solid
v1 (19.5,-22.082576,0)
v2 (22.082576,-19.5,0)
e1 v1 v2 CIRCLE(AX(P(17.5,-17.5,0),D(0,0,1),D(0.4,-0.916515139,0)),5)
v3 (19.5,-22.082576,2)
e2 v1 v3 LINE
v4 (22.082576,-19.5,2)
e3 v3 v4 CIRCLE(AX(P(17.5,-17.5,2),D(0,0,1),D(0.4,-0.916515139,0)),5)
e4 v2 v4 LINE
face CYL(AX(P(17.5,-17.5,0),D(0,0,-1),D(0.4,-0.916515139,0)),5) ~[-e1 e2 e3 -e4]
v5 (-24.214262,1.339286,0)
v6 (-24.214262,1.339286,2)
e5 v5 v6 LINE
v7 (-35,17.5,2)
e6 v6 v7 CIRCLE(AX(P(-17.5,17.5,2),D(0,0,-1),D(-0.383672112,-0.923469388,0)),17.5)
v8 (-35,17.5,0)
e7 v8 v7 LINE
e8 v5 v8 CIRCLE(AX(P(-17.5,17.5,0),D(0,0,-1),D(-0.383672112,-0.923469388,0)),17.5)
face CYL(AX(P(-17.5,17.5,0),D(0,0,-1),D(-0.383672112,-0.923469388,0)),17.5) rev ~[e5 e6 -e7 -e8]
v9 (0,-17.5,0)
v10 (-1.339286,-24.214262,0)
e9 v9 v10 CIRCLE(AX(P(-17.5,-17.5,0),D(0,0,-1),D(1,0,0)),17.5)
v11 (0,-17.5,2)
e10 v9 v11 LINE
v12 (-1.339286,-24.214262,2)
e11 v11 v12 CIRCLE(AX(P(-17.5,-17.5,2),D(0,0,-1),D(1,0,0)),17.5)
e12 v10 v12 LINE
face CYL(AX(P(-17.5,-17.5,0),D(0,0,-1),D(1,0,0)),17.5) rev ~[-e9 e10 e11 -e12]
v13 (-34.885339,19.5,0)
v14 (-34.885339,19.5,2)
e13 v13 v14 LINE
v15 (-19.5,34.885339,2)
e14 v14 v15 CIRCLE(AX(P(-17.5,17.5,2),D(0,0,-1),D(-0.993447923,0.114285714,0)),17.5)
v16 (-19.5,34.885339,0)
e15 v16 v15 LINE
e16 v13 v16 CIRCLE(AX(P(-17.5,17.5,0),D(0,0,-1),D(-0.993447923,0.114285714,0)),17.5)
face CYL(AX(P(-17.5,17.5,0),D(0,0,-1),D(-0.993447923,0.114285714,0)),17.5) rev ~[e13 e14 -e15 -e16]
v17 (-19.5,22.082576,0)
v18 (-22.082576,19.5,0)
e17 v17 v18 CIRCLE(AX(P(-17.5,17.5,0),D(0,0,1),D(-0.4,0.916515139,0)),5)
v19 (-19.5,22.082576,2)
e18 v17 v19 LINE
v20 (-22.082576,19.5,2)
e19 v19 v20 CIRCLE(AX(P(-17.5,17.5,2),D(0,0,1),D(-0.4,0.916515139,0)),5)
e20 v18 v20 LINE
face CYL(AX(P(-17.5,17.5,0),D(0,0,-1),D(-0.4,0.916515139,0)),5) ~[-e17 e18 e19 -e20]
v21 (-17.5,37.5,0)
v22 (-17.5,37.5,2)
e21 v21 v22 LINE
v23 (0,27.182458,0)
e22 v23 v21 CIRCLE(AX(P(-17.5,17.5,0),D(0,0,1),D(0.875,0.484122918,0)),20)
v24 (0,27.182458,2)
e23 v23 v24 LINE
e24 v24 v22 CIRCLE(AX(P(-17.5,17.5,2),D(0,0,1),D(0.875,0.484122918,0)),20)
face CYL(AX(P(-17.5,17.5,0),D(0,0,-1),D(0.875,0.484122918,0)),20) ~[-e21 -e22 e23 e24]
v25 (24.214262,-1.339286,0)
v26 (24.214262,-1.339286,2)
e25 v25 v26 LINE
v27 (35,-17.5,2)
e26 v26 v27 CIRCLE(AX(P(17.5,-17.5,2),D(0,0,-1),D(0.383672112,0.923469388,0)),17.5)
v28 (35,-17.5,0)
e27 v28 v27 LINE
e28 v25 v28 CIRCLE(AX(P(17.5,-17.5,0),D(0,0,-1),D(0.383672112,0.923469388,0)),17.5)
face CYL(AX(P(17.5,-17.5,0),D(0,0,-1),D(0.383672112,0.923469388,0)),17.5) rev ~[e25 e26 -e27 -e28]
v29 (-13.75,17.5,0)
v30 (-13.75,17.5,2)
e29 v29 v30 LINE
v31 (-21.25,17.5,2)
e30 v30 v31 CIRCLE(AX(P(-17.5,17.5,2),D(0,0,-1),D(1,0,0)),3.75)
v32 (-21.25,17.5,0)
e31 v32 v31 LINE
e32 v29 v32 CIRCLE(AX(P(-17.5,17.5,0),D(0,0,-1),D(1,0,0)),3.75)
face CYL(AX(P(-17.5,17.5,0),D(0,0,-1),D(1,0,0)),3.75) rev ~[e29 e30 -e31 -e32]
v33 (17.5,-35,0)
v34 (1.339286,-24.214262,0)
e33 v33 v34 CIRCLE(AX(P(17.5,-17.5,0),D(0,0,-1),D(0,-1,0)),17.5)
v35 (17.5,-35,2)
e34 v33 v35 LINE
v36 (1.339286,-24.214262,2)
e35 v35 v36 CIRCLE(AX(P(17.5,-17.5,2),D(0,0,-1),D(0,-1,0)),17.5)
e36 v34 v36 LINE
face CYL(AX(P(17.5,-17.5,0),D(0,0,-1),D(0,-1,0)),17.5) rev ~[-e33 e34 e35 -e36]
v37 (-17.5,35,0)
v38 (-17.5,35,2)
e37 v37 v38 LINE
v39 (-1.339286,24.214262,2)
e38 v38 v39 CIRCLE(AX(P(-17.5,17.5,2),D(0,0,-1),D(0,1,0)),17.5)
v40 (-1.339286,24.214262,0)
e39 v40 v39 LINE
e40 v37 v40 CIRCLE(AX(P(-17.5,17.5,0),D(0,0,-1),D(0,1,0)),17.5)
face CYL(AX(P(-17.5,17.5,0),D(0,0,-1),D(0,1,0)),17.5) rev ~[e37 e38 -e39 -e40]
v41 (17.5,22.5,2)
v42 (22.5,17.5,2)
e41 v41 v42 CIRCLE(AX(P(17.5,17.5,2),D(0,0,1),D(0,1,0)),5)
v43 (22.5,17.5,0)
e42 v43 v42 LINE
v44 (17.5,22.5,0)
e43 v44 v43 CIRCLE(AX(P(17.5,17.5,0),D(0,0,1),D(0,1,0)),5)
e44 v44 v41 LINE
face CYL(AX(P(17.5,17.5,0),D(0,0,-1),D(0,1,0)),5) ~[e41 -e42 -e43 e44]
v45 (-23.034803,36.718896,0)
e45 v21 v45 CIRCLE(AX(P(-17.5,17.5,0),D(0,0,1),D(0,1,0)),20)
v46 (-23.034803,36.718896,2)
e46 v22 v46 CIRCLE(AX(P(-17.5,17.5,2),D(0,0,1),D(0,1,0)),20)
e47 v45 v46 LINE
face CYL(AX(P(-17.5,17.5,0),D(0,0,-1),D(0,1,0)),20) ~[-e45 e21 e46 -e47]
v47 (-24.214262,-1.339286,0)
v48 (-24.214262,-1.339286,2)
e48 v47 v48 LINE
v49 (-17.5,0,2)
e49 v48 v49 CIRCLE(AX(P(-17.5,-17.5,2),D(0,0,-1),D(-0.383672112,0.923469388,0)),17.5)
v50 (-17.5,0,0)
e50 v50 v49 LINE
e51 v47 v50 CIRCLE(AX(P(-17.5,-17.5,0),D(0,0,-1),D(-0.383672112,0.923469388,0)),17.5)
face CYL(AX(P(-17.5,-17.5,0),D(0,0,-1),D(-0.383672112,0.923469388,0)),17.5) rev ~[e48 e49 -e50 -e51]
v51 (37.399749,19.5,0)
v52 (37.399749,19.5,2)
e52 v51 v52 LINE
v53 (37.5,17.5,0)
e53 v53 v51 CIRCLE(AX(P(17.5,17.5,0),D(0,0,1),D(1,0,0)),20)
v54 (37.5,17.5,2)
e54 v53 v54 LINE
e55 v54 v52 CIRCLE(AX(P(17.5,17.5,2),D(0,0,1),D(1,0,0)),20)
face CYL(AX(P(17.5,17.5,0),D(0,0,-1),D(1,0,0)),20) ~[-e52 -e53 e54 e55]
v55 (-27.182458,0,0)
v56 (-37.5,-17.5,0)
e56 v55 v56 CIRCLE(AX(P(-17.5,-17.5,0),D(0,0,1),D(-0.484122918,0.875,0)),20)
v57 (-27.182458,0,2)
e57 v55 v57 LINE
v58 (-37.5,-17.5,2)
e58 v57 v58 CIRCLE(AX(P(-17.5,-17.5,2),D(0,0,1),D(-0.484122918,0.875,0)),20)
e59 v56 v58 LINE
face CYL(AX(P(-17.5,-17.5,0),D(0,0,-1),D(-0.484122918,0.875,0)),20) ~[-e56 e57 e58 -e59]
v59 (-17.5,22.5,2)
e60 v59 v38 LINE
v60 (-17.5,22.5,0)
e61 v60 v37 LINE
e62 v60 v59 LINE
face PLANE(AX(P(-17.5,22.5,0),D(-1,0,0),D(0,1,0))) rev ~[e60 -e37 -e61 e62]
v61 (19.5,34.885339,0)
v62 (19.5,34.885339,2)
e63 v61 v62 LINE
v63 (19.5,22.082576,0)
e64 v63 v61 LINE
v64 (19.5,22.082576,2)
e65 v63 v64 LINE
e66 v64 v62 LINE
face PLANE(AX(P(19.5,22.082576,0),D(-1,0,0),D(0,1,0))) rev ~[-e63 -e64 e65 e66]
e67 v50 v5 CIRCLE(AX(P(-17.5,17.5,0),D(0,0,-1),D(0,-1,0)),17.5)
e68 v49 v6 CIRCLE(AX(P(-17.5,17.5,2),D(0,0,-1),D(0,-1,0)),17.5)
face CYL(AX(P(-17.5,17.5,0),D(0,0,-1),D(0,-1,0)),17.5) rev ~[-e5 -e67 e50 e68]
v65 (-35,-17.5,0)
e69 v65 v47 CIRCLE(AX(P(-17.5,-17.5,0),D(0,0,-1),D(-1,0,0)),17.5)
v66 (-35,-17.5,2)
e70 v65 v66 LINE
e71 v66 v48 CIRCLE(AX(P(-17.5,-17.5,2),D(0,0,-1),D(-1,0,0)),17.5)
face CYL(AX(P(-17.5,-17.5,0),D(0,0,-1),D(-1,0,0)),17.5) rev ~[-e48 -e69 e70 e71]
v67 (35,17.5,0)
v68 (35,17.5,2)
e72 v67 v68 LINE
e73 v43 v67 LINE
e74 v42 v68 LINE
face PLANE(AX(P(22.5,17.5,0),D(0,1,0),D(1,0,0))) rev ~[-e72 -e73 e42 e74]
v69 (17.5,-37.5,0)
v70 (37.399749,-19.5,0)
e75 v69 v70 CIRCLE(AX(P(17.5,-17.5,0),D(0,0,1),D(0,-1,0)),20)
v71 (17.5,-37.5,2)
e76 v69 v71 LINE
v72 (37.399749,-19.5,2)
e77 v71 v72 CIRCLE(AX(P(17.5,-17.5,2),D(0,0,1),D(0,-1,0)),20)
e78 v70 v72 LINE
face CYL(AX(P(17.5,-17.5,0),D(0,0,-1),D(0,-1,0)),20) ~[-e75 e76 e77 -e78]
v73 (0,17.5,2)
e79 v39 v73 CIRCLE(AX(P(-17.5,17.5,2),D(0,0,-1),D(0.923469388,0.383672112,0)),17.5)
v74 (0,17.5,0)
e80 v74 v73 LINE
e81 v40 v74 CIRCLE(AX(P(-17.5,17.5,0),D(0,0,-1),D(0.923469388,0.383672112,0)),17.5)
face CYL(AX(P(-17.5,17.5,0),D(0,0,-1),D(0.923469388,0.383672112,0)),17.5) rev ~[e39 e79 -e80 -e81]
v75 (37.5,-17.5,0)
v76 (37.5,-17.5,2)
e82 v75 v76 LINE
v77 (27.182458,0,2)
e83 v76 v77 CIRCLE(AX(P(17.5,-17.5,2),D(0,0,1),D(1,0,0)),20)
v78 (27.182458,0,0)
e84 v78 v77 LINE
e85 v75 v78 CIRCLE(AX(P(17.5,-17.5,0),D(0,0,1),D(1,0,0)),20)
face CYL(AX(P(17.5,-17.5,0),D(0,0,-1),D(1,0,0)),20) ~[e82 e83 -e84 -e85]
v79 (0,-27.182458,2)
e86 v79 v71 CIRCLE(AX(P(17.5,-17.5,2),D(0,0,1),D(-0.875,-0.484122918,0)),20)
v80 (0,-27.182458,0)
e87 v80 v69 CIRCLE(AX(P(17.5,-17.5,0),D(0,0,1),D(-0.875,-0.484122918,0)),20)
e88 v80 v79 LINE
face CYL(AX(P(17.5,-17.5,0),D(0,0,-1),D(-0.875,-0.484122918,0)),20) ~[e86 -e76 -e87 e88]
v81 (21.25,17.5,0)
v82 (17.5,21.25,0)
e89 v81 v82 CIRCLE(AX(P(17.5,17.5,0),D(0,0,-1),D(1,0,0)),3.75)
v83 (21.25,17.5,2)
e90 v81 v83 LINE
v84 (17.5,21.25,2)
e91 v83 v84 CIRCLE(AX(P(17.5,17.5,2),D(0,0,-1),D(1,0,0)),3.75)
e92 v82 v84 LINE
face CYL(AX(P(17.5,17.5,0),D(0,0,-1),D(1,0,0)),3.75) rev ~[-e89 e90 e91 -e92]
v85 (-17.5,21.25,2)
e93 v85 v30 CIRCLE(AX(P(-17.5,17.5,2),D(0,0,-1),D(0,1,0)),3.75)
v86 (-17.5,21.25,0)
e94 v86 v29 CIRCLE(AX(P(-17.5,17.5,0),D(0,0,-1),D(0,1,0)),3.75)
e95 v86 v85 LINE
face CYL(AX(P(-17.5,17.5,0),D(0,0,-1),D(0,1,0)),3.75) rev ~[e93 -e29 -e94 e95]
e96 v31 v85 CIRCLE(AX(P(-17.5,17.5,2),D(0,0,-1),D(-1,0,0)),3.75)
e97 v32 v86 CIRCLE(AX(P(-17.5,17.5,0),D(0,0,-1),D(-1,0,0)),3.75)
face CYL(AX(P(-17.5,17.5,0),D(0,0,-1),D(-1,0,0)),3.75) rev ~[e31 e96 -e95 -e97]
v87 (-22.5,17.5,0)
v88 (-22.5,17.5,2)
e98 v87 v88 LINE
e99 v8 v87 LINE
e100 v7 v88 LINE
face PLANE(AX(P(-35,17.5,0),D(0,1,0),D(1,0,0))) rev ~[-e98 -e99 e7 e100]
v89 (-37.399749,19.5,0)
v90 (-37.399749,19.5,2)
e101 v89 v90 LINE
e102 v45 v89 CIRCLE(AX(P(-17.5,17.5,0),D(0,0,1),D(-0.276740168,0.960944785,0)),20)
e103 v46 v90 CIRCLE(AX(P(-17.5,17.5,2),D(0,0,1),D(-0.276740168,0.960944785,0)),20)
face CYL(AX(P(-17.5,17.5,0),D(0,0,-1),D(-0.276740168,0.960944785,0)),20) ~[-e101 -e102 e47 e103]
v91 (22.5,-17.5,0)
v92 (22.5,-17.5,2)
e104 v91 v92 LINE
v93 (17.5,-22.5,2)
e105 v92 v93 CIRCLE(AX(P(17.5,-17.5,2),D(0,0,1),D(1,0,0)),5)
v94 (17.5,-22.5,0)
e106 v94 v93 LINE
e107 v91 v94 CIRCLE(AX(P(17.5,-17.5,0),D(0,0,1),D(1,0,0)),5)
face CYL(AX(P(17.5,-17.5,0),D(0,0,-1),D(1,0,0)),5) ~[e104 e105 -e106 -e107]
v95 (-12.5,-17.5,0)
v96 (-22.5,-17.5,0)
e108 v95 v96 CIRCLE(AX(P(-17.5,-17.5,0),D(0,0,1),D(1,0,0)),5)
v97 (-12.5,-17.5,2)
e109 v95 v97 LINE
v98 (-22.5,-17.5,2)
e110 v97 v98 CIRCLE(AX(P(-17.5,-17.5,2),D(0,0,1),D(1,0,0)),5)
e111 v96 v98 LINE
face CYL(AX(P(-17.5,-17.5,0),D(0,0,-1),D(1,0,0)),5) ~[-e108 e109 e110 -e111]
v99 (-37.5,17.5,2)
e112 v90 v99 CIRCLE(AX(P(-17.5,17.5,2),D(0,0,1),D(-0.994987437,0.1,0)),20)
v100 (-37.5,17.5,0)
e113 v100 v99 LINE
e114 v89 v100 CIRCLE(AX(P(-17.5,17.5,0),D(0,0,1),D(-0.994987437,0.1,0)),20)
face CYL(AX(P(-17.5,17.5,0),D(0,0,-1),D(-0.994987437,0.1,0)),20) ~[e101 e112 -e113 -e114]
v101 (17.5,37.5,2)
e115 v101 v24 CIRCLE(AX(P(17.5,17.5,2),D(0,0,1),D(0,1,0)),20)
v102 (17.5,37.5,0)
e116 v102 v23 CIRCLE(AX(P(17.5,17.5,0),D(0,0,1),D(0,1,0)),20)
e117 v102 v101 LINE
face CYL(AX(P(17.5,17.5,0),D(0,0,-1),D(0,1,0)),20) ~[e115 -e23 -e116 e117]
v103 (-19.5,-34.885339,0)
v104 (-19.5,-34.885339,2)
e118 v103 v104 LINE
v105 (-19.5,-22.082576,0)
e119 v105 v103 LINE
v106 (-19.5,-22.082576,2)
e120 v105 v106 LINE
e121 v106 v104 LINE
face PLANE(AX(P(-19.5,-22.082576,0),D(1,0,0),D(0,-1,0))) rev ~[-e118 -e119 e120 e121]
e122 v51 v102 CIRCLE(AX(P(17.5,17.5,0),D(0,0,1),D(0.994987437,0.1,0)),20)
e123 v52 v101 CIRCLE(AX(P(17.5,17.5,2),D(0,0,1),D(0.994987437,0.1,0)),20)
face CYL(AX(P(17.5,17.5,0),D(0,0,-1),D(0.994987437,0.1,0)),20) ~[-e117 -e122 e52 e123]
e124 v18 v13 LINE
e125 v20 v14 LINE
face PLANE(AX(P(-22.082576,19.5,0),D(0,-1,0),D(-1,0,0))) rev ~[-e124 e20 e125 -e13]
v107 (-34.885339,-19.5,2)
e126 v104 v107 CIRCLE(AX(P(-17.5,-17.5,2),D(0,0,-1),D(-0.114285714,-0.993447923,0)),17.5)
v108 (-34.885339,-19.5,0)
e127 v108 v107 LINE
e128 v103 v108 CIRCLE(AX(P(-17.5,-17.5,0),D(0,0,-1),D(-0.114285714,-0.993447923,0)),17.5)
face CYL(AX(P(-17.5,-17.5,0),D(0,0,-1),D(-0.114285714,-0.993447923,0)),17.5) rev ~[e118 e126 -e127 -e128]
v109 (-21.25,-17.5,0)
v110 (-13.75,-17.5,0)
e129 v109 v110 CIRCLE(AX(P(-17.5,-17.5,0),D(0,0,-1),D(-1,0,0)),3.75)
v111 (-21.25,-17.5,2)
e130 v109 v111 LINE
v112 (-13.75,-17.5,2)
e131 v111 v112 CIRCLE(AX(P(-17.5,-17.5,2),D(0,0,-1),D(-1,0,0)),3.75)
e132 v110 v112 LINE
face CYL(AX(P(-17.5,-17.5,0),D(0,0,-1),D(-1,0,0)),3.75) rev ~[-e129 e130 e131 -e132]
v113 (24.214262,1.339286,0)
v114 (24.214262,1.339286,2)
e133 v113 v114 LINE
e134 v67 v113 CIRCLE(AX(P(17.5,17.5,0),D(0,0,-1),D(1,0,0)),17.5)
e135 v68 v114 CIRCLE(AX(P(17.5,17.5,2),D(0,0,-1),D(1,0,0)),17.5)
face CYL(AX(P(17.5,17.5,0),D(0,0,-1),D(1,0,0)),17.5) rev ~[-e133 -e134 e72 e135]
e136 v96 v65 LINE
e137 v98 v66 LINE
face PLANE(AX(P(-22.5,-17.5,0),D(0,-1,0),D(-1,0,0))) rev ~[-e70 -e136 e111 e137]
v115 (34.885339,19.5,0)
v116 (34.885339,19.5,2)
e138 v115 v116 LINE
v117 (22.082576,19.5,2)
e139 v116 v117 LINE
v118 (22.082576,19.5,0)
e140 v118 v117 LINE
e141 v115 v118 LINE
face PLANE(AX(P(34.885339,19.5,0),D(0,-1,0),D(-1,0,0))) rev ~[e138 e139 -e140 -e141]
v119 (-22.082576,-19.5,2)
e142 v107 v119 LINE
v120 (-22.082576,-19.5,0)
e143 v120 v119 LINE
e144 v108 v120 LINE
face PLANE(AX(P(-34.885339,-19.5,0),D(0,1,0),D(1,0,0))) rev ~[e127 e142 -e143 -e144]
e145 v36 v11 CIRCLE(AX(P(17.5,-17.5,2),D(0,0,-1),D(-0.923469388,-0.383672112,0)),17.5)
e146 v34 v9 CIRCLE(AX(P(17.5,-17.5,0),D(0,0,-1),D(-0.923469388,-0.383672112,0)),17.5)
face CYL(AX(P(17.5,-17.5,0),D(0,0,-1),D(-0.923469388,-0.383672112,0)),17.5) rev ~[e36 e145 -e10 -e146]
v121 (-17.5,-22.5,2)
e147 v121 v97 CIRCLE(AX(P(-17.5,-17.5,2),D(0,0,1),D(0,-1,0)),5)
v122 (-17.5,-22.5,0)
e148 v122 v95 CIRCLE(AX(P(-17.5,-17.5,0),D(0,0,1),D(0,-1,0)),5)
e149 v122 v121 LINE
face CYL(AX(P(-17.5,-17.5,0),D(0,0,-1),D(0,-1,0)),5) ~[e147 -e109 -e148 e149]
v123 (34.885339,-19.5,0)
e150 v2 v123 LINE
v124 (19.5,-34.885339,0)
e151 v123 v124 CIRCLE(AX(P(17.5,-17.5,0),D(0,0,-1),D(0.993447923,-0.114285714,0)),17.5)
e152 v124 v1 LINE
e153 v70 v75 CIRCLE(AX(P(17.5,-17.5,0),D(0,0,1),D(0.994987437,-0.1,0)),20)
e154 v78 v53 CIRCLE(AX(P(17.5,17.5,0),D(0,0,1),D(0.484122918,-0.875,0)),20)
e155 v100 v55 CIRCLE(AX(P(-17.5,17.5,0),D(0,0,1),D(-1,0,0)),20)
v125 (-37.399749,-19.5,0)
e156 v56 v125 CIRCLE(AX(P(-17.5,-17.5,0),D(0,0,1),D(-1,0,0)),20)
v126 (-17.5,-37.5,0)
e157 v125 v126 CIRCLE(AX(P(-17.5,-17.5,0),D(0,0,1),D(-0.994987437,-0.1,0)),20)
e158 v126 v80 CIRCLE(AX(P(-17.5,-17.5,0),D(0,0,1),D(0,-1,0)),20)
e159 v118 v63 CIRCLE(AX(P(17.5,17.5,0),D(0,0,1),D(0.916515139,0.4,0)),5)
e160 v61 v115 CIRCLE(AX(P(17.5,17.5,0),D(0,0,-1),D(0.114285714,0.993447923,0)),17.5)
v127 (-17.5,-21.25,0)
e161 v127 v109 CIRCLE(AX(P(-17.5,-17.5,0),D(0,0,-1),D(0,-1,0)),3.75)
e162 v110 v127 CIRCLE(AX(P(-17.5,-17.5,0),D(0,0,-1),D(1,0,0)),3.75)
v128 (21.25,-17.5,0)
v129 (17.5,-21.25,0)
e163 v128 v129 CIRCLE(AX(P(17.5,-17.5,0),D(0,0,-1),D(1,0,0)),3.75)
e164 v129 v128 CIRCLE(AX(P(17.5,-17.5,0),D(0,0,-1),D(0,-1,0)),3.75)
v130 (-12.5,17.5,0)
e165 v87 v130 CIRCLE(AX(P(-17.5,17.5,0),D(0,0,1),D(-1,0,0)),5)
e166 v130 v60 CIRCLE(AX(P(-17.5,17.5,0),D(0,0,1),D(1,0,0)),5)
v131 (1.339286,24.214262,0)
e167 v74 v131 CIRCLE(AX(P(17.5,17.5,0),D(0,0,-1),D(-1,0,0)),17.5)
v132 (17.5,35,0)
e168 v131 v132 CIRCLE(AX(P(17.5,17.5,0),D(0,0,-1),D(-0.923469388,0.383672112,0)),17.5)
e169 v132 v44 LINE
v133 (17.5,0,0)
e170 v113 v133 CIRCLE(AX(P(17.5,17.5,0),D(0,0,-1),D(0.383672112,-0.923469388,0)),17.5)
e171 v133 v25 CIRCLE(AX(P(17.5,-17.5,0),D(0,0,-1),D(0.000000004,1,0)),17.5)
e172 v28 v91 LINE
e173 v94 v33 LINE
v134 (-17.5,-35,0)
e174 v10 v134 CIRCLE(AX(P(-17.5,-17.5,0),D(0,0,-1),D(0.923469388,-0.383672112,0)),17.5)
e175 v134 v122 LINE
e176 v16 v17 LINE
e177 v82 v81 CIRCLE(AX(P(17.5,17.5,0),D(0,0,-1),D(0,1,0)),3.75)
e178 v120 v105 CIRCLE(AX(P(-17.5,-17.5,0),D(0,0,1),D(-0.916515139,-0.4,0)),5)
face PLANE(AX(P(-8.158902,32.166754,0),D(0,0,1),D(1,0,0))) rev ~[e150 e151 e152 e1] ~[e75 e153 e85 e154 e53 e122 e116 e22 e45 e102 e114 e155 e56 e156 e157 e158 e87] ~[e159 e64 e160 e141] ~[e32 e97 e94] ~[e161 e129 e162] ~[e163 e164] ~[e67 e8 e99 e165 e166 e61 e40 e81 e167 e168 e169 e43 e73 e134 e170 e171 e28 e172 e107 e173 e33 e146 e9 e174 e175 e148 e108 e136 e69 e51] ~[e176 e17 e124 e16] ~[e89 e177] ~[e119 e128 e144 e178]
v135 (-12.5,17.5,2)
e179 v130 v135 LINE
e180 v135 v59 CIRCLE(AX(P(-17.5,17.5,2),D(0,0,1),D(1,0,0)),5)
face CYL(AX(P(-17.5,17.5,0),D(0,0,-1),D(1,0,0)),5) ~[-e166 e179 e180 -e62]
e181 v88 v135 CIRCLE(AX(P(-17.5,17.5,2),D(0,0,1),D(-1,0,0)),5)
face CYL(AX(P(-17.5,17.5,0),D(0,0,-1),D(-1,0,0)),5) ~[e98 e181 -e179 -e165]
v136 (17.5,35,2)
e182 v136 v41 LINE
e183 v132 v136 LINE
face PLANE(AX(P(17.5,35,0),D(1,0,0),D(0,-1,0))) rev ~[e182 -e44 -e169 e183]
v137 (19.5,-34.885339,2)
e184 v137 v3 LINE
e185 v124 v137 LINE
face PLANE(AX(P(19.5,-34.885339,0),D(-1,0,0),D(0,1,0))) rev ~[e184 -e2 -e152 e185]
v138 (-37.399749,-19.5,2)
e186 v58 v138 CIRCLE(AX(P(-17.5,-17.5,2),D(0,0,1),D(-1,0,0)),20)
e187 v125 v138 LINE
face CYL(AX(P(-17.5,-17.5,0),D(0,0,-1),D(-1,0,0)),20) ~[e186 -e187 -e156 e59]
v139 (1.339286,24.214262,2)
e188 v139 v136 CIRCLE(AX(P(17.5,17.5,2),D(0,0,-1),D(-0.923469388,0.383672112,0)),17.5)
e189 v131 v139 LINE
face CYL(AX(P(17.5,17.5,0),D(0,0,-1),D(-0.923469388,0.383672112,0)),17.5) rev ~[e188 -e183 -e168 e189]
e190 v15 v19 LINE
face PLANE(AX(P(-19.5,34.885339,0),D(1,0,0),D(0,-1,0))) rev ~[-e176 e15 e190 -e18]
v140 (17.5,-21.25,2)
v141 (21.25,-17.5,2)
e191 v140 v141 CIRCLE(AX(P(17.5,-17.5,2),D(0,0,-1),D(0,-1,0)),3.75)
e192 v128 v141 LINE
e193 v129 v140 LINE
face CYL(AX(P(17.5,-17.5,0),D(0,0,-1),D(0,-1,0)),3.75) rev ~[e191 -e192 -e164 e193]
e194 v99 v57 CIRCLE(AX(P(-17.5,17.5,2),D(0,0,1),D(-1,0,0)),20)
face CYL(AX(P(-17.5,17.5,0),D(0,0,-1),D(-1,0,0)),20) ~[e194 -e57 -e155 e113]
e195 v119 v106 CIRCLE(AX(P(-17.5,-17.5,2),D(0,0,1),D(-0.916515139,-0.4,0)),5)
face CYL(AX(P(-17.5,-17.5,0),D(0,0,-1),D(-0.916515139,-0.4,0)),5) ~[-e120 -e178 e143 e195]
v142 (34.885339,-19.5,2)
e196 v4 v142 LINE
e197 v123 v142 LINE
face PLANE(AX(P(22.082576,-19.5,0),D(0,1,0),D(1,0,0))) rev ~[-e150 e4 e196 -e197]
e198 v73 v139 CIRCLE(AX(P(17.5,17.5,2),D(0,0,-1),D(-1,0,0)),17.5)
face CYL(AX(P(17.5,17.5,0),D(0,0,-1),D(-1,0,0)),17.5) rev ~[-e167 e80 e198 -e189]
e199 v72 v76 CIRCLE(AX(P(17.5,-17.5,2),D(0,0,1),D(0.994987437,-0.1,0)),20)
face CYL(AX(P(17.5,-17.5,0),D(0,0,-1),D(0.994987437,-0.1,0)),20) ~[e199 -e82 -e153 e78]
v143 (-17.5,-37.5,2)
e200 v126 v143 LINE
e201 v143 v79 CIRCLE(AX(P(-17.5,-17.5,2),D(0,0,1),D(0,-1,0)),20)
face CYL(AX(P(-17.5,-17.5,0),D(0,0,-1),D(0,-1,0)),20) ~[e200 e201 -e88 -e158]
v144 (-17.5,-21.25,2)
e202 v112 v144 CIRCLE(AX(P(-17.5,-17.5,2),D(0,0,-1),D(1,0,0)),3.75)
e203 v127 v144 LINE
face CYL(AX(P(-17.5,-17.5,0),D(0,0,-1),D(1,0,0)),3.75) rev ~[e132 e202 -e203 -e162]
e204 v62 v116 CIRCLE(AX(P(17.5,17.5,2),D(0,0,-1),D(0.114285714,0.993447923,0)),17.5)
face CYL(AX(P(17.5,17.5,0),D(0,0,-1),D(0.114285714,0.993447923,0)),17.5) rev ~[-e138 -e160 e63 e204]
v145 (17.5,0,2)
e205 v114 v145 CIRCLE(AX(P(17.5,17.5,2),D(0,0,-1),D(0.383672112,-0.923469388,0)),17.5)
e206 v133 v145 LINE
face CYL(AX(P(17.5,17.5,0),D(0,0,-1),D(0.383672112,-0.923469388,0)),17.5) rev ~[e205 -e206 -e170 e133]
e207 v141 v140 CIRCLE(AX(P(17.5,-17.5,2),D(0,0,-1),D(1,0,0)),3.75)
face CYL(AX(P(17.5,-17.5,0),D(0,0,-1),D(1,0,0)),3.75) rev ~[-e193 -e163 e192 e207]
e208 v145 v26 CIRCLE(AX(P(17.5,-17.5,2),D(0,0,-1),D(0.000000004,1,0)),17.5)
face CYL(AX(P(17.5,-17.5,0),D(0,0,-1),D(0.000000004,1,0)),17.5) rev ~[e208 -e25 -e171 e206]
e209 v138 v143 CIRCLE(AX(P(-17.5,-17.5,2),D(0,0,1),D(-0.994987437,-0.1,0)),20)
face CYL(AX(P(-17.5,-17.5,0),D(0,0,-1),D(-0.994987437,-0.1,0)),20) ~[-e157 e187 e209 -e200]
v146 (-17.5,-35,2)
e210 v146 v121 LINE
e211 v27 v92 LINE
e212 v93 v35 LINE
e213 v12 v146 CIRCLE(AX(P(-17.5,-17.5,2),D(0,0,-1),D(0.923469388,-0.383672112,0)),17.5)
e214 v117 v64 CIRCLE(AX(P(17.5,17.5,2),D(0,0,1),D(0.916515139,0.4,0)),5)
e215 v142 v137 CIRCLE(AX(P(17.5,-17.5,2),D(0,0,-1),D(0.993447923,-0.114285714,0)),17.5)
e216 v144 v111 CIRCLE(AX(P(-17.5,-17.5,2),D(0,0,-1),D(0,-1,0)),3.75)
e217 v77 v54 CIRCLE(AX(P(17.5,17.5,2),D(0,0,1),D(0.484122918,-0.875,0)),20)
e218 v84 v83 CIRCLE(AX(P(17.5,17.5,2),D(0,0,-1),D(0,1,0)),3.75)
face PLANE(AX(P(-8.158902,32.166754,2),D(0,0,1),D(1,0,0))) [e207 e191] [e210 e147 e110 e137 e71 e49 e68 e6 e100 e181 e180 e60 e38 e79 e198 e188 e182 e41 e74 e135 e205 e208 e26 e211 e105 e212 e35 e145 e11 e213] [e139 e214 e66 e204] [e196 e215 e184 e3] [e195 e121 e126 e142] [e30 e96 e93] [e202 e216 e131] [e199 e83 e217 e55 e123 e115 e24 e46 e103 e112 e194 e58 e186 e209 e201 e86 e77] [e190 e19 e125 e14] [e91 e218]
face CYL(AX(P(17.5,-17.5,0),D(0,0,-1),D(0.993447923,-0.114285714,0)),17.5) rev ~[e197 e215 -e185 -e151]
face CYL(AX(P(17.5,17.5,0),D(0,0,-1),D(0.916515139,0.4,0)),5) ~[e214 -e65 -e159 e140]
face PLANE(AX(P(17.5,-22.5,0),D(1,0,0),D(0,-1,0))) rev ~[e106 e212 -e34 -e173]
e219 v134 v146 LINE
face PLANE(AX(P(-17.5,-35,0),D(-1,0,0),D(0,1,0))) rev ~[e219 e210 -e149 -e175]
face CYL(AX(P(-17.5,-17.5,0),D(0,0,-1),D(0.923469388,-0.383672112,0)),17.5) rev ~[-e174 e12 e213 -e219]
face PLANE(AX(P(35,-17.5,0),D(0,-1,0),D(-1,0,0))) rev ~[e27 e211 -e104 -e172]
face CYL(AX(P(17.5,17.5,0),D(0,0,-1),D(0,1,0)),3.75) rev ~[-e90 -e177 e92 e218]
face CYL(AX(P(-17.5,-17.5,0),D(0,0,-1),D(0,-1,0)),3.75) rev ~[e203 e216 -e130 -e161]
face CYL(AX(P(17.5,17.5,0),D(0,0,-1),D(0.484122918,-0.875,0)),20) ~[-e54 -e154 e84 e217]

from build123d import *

# Parameters (mm, degrees)
F1_DEPTH = 2


with BuildPart() as f1:
    # F0 (on Top) → F1 (new body)
    with BuildSketch(Plane.XY):
        with BuildLine():
            ThreePointArc((-17.5, 35), (-7.785309692, 32.0559194907), (-1.3392857143, 24.214261968))
            ThreePointArc((-1.3392857143, 24.214261968), (-0.7301527426, 25.7256629508), (0, 27.1824583655))
            ThreePointArc((0, 27.1824583655), (-7.3424699683, 34.7285978436), (-17.5, 37.5))
            Line((-17.5, 37.5), (-17.5, 35))
        make_face()
        with BuildLine():
            ThreePointArc((-35, -17.5), (-32.0559194907, -7.785309692), (-24.214261968, -1.3392857143))
            ThreePointArc((-24.214261968, -1.3392857143), (-25.7256629508, -0.7301527426), (-27.1824583655, 0))
            ThreePointArc((-27.1824583655, 0), (-34.7285978436, -7.3424699683), (-37.5, -17.5))
            Line((-37.5, -17.5), (-35, -17.5))
        make_face()
        with BuildLine():
            ThreePointArc((27.1824583655, 0), (25.7256629508, -0.7301527426), (24.214261968, -1.3392857143))
            ThreePointArc((24.214261968, -1.3392857143), (32.0559194907, -7.785309692), (35, -17.5))
            Line((35, -17.5), (37.5, -17.5))
            ThreePointArc((37.5, -17.5), (34.7285978436, -7.3424699683), (27.1824583655, 0))
        make_face()
        with BuildLine():
            ThreePointArc((0, 27.1824583655), (0.7301527426, 25.7256629508), (1.3392857143, 24.214261968))
            ThreePointArc((1.3392857143, 24.214261968), (7.785309692, 32.0559194907), (17.5, 35))
            Line((17.5, 35), (17.5, 37.5))
            ThreePointArc((17.5, 37.5), (7.3424699683, 34.7285978436), (0, 27.1824583655))
        make_face()
        with BuildLine():
            ThreePointArc((24.214261968, 1.3392857143), (20.9232660165, 0.3380872342), (17.5000000654, 0))
            ThreePointArc((17.5000000654, 0), (20.9232660165, -0.3380872342), (24.214261968, -1.3392857143))
            ThreePointArc((24.214261968, -1.3392857143), (25.7256629508, -0.7301527426), (27.1824583655, 0))
            ThreePointArc((27.1824583655, 0), (25.7256629508, 0.7301527426), (24.214261968, 1.3392857143))
        make_face()
        with BuildLine():
            ThreePointArc((1.3392857143, -24.214261968), (0.3380872278, -20.9232659844), (0, -17.5))
            ThreePointArc((0, -17.5), (-0.3380872278, -20.9232659844), (-1.3392857143, -24.214261968))
            ThreePointArc((-1.3392857143, -24.214261968), (-0.7301527426, -25.7256629508), (0, -27.1824583655))
            ThreePointArc((0, -27.1824583655), (0.7301527426, -25.7256629508), (1.3392857143, -24.214261968))
        make_face()
        with BuildLine():
            ThreePointArc((-24.214261968, -1.3392857143), (-20.9232659844, -0.3380872278), (-17.5, 0))
            ThreePointArc((-17.5, 0), (-20.9232659844, 0.3380872278), (-24.214261968, 1.3392857143))
            ThreePointArc((-24.214261968, 1.3392857143), (-25.7256629508, 0.7301527426), (-27.1824583655, 0))
            ThreePointArc((-27.1824583655, 0), (-25.7256629508, -0.7301527426), (-24.214261968, -1.3392857143))
        make_face()
        with BuildLine():
            ThreePointArc((-1.3392857143, 24.214261968), (-0.3380872278, 20.9232659844), (0, 17.5))
            ThreePointArc((0, 17.5), (0.3380872278, 20.9232659844), (1.3392857143, 24.214261968))
            ThreePointArc((1.3392857143, 24.214261968), (0.7301527426, 25.7256629508), (0, 27.1824583655))
            ThreePointArc((0, 27.1824583655), (-0.7301527426, 25.7256629508), (-1.3392857143, 24.214261968))
        make_face()
        with BuildLine():
            ThreePointArc((-27.1824583655, 0), (-25.7256629508, 0.7301527426), (-24.214261968, 1.3392857143))
            ThreePointArc((-24.214261968, 1.3392857143), (-32.0559194907, 7.785309692), (-35, 17.5))
            Line((-35, 17.5), (-37.5, 17.5))
            ThreePointArc((-37.5, 17.5), (-34.7285978436, 7.3424699683), (-27.1824583655, 0))
        make_face()
        with BuildLine():
            ThreePointArc((-34.8853386507, 19.5), (-29.8743686708, 29.8743686708), (-19.5, 34.8853386507))
            Line((-19.5, 34.8853386507), (-19.5, 36.718895694))
            Line((-19.5, 36.718895694), (-23.0348033662, 36.718895694))
            ThreePointArc((-23.0348033662, 36.718895694), (-32.8574640637, 30.3120372124), (-37.3997487421, 19.5))
            Line((-37.3997487421, 19.5), (-34.8853386507, 19.5))
        make_face()
        with BuildLine():
            ThreePointArc((-35, 17.5), (-34.971311147, 18.501642055), (-34.8853386507, 19.5))
            Line((-34.8853386507, 19.5), (-37.3997487421, 19.5))
            ThreePointArc((-37.3997487421, 19.5), (-37.4749214622, 18.5012555012), (-37.5, 17.5))
            Line((-37.5, 17.5), (-35, 17.5))
        make_face()
        with BuildLine():
            Line((-22.082575695, 19.5), (-34.8853386507, 19.5))
            ThreePointArc((-34.8853386507, 19.5), (-34.971311147, 18.501642055), (-35, 17.5))
            Line((-35, 17.5), (-22.5, 17.5))
            ThreePointArc((-22.5, 17.5), (-22.3945315647, 18.5215482184), (-22.082575695, 19.5))
        make_face()
        with BuildLine():
            Line((-17.5, 21.25), (-17.5, 22.5))
            ThreePointArc((-17.5, 22.5), (-18.5215482184, 22.3945315647), (-19.5, 22.082575695))
            ThreePointArc((-19.5, 22.082575695), (-21.0355339059, 21.0355339059), (-22.082575695, 19.5))
            ThreePointArc((-22.082575695, 19.5), (-22.3945315647, 18.5215482184), (-22.5, 17.5))
            Line((-22.5, 17.5), (-21.25, 17.5))
            ThreePointArc((-21.25, 17.5), (-20.1516504294, 20.1516504294), (-17.5, 21.25))
        make_face()
        with BuildLine():
            Line((-17.5, 22.5), (-17.5, 35))
            ThreePointArc((-17.5, 35), (-18.501642055, 34.971311147), (-19.5, 34.8853386507))
            Line((-19.5, 34.8853386507), (-19.5, 22.082575695))
            ThreePointArc((-19.5, 22.082575695), (-18.5215482184, 22.3945315647), (-17.5, 22.5))
        make_face()
        with BuildLine():
            ThreePointArc((-12.5, 17.5), (-13.9644660941, 21.0355339059), (-17.5, 22.5))
            Line((-17.5, 22.5), (-17.5, 21.25))
            ThreePointArc((-17.5, 21.25), (-14.8483495706, 20.1516504294), (-13.75, 17.5))
            ThreePointArc((-13.75, 17.5), (-17.5, 13.75), (-21.25, 17.5))
            Line((-21.25, 17.5), (-22.5, 17.5))
            ThreePointArc((-22.5, 17.5), (-17.5, 12.5), (-12.5, 17.5))
        make_face()
        with BuildLine():
            ThreePointArc((-19.5, 34.8853386507), (-18.501642055, 34.971311147), (-17.5, 35))
            Line((-17.5, 35), (-17.5, 37.5))
            ThreePointArc((-17.5, 37.5), (-20.2948243343, 37.3037611817), (-23.0348033662, 36.718895694))
            Line((-23.0348033662, 36.718895694), (-19.5, 36.718895694))
            Line((-19.5, 36.718895694), (-19.5, 34.8853386507))
        make_face()
        with BuildLine():
            ThreePointArc((-34.8853386507, -19.5), (-34.971311147, -18.501642055), (-35, -17.5))
            Line((-35, -17.5), (-37.5, -17.5))
            ThreePointArc((-37.5, -17.5), (-37.4749214622, -18.5012555012), (-37.3997487421, -19.5))
            Line((-37.3997487421, -19.5), (-34.8853386507, -19.5))
        make_face()
        with BuildLine():
            Line((-22.5, -17.5), (-35, -17.5))
            ThreePointArc((-35, -17.5), (-34.971311147, -18.501642055), (-34.8853386507, -19.5))
            Line((-34.8853386507, -19.5), (-22.082575695, -19.5))
            ThreePointArc((-22.082575695, -19.5), (-22.3945315647, -18.5215482184), (-22.5, -17.5))
        make_face()
        with BuildLine():
            ThreePointArc((-19.5, -34.8853386507), (-29.8743686708, -29.8743686708), (-34.8853386507, -19.5))
            Line((-34.8853386507, -19.5), (-37.3997487421, -19.5))
            ThreePointArc((-37.3997487421, -19.5), (-30.916407865, -32.3323969742), (-17.5, -37.5))
            Line((-17.5, -37.5), (-17.5, -35))
            ThreePointArc((-17.5, -35), (-18.501642055, -34.971311147), (-19.5, -34.8853386507))
        make_face()
        with BuildLine():
            Line((-21.25, -17.5), (-22.5, -17.5))
            ThreePointArc((-22.5, -17.5), (-22.3945315647, -18.5215482184), (-22.082575695, -19.5))
            ThreePointArc((-22.082575695, -19.5), (-21.0355339059, -21.0355339059), (-19.5, -22.082575695))
            ThreePointArc((-19.5, -22.082575695), (-18.5215482184, -22.3945315647), (-17.5, -22.5))
            Line((-17.5, -22.5), (-17.5, -21.25))
            ThreePointArc((-17.5, -21.25), (-20.1516504294, -20.1516504294), (-21.25, -17.5))
        make_face()
        with BuildLine():
            ThreePointArc((-19.5, -34.8853386507), (-18.501642055, -34.971311147), (-17.5, -35))
            Line((-17.5, -35), (-17.5, -22.5))
            ThreePointArc((-17.5, -22.5), (-18.5215482184, -22.3945315647), (-19.5, -22.082575695))
            Line((-19.5, -22.082575695), (-19.5, -34.8853386507))
        make_face()
        with BuildLine():
            ThreePointArc((-12.5, -17.5), (-17.5, -12.5), (-22.5, -17.5))
            Line((-22.5, -17.5), (-21.25, -17.5))
            ThreePointArc((-21.25, -17.5), (-17.5, -13.75), (-13.75, -17.5))
            ThreePointArc((-13.75, -17.5), (-14.8483495706, -20.1516504294), (-17.5, -21.25))
            Line((-17.5, -21.25), (-17.5, -22.5))
            ThreePointArc((-17.5, -22.5), (-13.9644660941, -21.0355339059), (-12.5, -17.5))
        make_face()
        with BuildLine():
            ThreePointArc((0, -27.1824583655), (-0.7301527426, -25.7256629508), (-1.3392857143, -24.214261968))
            ThreePointArc((-1.3392857143, -24.214261968), (-7.785309692, -32.0559194907), (-17.5, -35))
            Line((-17.5, -35), (-17.5, -37.5))
            ThreePointArc((-17.5, -37.5), (-7.3424699683, -34.7285978436), (0, -27.1824583655))
        make_face()
        with BuildLine():
            ThreePointArc((17.5, -35), (7.785309692, -32.0559194907), (1.3392857143, -24.214261968))
            ThreePointArc((1.3392857143, -24.214261968), (0.7301527426, -25.7256629508), (0, -27.1824583655))
            ThreePointArc((0, -27.1824583655), (7.3424699683, -34.7285978436), (17.5, -37.5))
            Line((17.5, -37.5), (17.5, -35))
        make_face()
        with BuildLine():
            Line((37.3997487421, -19.5), (34.8853386507, -19.5))
            ThreePointArc((34.8853386507, -19.5), (29.8743686708, -29.8743686708), (19.5, -34.8853386507))
            ThreePointArc((19.5, -34.8853386507), (18.501642055, -34.971311147), (17.5, -35))
            Line((17.5, -35), (17.5, -37.5))
            ThreePointArc((17.5, -37.5), (30.916407865, -32.3323969742), (37.3997487421, -19.5))
        make_face()
        with BuildLine():
            Line((37.5, -17.5), (35, -17.5))
            ThreePointArc((35, -17.5), (34.971311147, -18.501642055), (34.8853386507, -19.5))
            Line((34.8853386507, -19.5), (37.3997487421, -19.5))
            ThreePointArc((37.3997487421, -19.5), (37.4749214622, -18.5012555012), (37.5, -17.5))
        make_face()
        with BuildLine():
            ThreePointArc((34.8853386507, -19.5), (34.971311147, -18.501642055), (35, -17.5))
            Line((35, -17.5), (22.5, -17.5))
            ThreePointArc((22.5, -17.5), (22.3945315647, -18.5215482184), (22.082575695, -19.5))
            Line((22.082575695, -19.5), (34.8853386507, -19.5))
        make_face()
        with BuildLine():
            ThreePointArc((17.5, -35), (18.501642055, -34.971311147), (19.5, -34.8853386507))
            Line((19.5, -34.8853386507), (19.5, -22.082575695))
            ThreePointArc((19.5, -22.082575695), (18.5215482184, -22.3945315647), (17.5, -22.5))
            Line((17.5, -22.5), (17.5, -35))
        make_face()
        with BuildLine():
            ThreePointArc((22.082575695, -19.5), (22.3945315647, -18.5215482184), (22.5, -17.5))
            Line((22.5, -17.5), (21.25, -17.5))
            ThreePointArc((21.25, -17.5), (20.1516504294, -20.1516504294), (17.5, -21.25))
            Line((17.5, -21.25), (17.5, -22.5))
            ThreePointArc((17.5, -22.5), (18.5215482184, -22.3945315647), (19.5, -22.082575695))
            ThreePointArc((19.5, -22.082575695), (21.0355339059, -21.0355339059), (22.082575695, -19.5))
        make_face()
        with BuildLine():
            Line((21.25, -17.5), (22.5, -17.5))
            ThreePointArc((22.5, -17.5), (13.9644660941, -13.9644660941), (17.5, -22.5))
            Line((17.5, -22.5), (17.5, -21.25))
            ThreePointArc((17.5, -21.25), (14.8483495706, -14.8483495706), (21.25, -17.5))
        make_face()
        with BuildLine():
            ThreePointArc((19.5, 34.8853386507), (18.501642055, 34.971311147), (17.5, 35))
            Line((17.5, 35), (17.5, 22.5))
            ThreePointArc((17.5, 22.5), (18.5215482184, 22.3945315647), (19.5, 22.082575695))
            Line((19.5, 22.082575695), (19.5, 34.8853386507))
        make_face()
        with BuildLine():
            ThreePointArc((19.5, 22.082575695), (18.5215482184, 22.3945315647), (17.5, 22.5))
            Line((17.5, 22.5), (17.5, 21.25))
            ThreePointArc((17.5, 21.25), (20.1516504294, 20.1516504294), (21.25, 17.5))
            Line((21.25, 17.5), (22.5, 17.5))
            ThreePointArc((22.5, 17.5), (22.3945315647, 18.5215482184), (22.082575695, 19.5))
            ThreePointArc((22.082575695, 19.5), (21.0355339059, 21.0355339059), (19.5, 22.082575695))
        make_face()
        with BuildLine():
            ThreePointArc((35, 17.5), (34.971311147, 18.501642055), (34.8853386507, 19.5))
            Line((34.8853386507, 19.5), (22.082575695, 19.5))
            ThreePointArc((22.082575695, 19.5), (22.3945315647, 18.5215482184), (22.5, 17.5))
            Line((22.5, 17.5), (35, 17.5))
        make_face()
        with BuildLine():
            Line((17.5, 37.5), (17.5, 35))
            ThreePointArc((17.5, 35), (18.501642055, 34.971311147), (19.5, 34.8853386507))
            ThreePointArc((19.5, 34.8853386507), (29.8743686708, 29.8743686708), (34.8853386507, 19.5))
            Line((34.8853386507, 19.5), (37.3997487421, 19.5))
            ThreePointArc((37.3997487421, 19.5), (30.916407865, 32.3323969742), (17.5, 37.5))
        make_face()
        with BuildLine():
            ThreePointArc((37.5, 17.5), (37.4749214622, 18.5012555012), (37.3997487421, 19.5))
            Line((37.3997487421, 19.5), (34.8853386507, 19.5))
            ThreePointArc((34.8853386507, 19.5), (34.971311147, 18.501642055), (35, 17.5))
            Line((35, 17.5), (37.5, 17.5))
        make_face()
        with BuildLine():
            ThreePointArc((35, 17.5), (32.0559194907, 7.785309692), (24.214261968, 1.3392857143))
            ThreePointArc((24.214261968, 1.3392857143), (25.7256629508, 0.7301527426), (27.1824583655, 0))
            ThreePointArc((27.1824583655, 0), (34.7285978436, 7.3424699683), (37.5, 17.5))
            Line((37.5, 17.5), (35, 17.5))
        make_face()
        with BuildLine():
            Line((17.5, 21.25), (17.5, 22.5))
            ThreePointArc((17.5, 22.5), (13.9644660941, 13.9644660941), (22.5, 17.5))
            Line((22.5, 17.5), (21.25, 17.5))
            ThreePointArc((21.25, 17.5), (14.8483495706, 14.8483495706), (17.5, 21.25))
        make_face()
    extrude(amount=F1_DEPTH)


solid = f1.part
